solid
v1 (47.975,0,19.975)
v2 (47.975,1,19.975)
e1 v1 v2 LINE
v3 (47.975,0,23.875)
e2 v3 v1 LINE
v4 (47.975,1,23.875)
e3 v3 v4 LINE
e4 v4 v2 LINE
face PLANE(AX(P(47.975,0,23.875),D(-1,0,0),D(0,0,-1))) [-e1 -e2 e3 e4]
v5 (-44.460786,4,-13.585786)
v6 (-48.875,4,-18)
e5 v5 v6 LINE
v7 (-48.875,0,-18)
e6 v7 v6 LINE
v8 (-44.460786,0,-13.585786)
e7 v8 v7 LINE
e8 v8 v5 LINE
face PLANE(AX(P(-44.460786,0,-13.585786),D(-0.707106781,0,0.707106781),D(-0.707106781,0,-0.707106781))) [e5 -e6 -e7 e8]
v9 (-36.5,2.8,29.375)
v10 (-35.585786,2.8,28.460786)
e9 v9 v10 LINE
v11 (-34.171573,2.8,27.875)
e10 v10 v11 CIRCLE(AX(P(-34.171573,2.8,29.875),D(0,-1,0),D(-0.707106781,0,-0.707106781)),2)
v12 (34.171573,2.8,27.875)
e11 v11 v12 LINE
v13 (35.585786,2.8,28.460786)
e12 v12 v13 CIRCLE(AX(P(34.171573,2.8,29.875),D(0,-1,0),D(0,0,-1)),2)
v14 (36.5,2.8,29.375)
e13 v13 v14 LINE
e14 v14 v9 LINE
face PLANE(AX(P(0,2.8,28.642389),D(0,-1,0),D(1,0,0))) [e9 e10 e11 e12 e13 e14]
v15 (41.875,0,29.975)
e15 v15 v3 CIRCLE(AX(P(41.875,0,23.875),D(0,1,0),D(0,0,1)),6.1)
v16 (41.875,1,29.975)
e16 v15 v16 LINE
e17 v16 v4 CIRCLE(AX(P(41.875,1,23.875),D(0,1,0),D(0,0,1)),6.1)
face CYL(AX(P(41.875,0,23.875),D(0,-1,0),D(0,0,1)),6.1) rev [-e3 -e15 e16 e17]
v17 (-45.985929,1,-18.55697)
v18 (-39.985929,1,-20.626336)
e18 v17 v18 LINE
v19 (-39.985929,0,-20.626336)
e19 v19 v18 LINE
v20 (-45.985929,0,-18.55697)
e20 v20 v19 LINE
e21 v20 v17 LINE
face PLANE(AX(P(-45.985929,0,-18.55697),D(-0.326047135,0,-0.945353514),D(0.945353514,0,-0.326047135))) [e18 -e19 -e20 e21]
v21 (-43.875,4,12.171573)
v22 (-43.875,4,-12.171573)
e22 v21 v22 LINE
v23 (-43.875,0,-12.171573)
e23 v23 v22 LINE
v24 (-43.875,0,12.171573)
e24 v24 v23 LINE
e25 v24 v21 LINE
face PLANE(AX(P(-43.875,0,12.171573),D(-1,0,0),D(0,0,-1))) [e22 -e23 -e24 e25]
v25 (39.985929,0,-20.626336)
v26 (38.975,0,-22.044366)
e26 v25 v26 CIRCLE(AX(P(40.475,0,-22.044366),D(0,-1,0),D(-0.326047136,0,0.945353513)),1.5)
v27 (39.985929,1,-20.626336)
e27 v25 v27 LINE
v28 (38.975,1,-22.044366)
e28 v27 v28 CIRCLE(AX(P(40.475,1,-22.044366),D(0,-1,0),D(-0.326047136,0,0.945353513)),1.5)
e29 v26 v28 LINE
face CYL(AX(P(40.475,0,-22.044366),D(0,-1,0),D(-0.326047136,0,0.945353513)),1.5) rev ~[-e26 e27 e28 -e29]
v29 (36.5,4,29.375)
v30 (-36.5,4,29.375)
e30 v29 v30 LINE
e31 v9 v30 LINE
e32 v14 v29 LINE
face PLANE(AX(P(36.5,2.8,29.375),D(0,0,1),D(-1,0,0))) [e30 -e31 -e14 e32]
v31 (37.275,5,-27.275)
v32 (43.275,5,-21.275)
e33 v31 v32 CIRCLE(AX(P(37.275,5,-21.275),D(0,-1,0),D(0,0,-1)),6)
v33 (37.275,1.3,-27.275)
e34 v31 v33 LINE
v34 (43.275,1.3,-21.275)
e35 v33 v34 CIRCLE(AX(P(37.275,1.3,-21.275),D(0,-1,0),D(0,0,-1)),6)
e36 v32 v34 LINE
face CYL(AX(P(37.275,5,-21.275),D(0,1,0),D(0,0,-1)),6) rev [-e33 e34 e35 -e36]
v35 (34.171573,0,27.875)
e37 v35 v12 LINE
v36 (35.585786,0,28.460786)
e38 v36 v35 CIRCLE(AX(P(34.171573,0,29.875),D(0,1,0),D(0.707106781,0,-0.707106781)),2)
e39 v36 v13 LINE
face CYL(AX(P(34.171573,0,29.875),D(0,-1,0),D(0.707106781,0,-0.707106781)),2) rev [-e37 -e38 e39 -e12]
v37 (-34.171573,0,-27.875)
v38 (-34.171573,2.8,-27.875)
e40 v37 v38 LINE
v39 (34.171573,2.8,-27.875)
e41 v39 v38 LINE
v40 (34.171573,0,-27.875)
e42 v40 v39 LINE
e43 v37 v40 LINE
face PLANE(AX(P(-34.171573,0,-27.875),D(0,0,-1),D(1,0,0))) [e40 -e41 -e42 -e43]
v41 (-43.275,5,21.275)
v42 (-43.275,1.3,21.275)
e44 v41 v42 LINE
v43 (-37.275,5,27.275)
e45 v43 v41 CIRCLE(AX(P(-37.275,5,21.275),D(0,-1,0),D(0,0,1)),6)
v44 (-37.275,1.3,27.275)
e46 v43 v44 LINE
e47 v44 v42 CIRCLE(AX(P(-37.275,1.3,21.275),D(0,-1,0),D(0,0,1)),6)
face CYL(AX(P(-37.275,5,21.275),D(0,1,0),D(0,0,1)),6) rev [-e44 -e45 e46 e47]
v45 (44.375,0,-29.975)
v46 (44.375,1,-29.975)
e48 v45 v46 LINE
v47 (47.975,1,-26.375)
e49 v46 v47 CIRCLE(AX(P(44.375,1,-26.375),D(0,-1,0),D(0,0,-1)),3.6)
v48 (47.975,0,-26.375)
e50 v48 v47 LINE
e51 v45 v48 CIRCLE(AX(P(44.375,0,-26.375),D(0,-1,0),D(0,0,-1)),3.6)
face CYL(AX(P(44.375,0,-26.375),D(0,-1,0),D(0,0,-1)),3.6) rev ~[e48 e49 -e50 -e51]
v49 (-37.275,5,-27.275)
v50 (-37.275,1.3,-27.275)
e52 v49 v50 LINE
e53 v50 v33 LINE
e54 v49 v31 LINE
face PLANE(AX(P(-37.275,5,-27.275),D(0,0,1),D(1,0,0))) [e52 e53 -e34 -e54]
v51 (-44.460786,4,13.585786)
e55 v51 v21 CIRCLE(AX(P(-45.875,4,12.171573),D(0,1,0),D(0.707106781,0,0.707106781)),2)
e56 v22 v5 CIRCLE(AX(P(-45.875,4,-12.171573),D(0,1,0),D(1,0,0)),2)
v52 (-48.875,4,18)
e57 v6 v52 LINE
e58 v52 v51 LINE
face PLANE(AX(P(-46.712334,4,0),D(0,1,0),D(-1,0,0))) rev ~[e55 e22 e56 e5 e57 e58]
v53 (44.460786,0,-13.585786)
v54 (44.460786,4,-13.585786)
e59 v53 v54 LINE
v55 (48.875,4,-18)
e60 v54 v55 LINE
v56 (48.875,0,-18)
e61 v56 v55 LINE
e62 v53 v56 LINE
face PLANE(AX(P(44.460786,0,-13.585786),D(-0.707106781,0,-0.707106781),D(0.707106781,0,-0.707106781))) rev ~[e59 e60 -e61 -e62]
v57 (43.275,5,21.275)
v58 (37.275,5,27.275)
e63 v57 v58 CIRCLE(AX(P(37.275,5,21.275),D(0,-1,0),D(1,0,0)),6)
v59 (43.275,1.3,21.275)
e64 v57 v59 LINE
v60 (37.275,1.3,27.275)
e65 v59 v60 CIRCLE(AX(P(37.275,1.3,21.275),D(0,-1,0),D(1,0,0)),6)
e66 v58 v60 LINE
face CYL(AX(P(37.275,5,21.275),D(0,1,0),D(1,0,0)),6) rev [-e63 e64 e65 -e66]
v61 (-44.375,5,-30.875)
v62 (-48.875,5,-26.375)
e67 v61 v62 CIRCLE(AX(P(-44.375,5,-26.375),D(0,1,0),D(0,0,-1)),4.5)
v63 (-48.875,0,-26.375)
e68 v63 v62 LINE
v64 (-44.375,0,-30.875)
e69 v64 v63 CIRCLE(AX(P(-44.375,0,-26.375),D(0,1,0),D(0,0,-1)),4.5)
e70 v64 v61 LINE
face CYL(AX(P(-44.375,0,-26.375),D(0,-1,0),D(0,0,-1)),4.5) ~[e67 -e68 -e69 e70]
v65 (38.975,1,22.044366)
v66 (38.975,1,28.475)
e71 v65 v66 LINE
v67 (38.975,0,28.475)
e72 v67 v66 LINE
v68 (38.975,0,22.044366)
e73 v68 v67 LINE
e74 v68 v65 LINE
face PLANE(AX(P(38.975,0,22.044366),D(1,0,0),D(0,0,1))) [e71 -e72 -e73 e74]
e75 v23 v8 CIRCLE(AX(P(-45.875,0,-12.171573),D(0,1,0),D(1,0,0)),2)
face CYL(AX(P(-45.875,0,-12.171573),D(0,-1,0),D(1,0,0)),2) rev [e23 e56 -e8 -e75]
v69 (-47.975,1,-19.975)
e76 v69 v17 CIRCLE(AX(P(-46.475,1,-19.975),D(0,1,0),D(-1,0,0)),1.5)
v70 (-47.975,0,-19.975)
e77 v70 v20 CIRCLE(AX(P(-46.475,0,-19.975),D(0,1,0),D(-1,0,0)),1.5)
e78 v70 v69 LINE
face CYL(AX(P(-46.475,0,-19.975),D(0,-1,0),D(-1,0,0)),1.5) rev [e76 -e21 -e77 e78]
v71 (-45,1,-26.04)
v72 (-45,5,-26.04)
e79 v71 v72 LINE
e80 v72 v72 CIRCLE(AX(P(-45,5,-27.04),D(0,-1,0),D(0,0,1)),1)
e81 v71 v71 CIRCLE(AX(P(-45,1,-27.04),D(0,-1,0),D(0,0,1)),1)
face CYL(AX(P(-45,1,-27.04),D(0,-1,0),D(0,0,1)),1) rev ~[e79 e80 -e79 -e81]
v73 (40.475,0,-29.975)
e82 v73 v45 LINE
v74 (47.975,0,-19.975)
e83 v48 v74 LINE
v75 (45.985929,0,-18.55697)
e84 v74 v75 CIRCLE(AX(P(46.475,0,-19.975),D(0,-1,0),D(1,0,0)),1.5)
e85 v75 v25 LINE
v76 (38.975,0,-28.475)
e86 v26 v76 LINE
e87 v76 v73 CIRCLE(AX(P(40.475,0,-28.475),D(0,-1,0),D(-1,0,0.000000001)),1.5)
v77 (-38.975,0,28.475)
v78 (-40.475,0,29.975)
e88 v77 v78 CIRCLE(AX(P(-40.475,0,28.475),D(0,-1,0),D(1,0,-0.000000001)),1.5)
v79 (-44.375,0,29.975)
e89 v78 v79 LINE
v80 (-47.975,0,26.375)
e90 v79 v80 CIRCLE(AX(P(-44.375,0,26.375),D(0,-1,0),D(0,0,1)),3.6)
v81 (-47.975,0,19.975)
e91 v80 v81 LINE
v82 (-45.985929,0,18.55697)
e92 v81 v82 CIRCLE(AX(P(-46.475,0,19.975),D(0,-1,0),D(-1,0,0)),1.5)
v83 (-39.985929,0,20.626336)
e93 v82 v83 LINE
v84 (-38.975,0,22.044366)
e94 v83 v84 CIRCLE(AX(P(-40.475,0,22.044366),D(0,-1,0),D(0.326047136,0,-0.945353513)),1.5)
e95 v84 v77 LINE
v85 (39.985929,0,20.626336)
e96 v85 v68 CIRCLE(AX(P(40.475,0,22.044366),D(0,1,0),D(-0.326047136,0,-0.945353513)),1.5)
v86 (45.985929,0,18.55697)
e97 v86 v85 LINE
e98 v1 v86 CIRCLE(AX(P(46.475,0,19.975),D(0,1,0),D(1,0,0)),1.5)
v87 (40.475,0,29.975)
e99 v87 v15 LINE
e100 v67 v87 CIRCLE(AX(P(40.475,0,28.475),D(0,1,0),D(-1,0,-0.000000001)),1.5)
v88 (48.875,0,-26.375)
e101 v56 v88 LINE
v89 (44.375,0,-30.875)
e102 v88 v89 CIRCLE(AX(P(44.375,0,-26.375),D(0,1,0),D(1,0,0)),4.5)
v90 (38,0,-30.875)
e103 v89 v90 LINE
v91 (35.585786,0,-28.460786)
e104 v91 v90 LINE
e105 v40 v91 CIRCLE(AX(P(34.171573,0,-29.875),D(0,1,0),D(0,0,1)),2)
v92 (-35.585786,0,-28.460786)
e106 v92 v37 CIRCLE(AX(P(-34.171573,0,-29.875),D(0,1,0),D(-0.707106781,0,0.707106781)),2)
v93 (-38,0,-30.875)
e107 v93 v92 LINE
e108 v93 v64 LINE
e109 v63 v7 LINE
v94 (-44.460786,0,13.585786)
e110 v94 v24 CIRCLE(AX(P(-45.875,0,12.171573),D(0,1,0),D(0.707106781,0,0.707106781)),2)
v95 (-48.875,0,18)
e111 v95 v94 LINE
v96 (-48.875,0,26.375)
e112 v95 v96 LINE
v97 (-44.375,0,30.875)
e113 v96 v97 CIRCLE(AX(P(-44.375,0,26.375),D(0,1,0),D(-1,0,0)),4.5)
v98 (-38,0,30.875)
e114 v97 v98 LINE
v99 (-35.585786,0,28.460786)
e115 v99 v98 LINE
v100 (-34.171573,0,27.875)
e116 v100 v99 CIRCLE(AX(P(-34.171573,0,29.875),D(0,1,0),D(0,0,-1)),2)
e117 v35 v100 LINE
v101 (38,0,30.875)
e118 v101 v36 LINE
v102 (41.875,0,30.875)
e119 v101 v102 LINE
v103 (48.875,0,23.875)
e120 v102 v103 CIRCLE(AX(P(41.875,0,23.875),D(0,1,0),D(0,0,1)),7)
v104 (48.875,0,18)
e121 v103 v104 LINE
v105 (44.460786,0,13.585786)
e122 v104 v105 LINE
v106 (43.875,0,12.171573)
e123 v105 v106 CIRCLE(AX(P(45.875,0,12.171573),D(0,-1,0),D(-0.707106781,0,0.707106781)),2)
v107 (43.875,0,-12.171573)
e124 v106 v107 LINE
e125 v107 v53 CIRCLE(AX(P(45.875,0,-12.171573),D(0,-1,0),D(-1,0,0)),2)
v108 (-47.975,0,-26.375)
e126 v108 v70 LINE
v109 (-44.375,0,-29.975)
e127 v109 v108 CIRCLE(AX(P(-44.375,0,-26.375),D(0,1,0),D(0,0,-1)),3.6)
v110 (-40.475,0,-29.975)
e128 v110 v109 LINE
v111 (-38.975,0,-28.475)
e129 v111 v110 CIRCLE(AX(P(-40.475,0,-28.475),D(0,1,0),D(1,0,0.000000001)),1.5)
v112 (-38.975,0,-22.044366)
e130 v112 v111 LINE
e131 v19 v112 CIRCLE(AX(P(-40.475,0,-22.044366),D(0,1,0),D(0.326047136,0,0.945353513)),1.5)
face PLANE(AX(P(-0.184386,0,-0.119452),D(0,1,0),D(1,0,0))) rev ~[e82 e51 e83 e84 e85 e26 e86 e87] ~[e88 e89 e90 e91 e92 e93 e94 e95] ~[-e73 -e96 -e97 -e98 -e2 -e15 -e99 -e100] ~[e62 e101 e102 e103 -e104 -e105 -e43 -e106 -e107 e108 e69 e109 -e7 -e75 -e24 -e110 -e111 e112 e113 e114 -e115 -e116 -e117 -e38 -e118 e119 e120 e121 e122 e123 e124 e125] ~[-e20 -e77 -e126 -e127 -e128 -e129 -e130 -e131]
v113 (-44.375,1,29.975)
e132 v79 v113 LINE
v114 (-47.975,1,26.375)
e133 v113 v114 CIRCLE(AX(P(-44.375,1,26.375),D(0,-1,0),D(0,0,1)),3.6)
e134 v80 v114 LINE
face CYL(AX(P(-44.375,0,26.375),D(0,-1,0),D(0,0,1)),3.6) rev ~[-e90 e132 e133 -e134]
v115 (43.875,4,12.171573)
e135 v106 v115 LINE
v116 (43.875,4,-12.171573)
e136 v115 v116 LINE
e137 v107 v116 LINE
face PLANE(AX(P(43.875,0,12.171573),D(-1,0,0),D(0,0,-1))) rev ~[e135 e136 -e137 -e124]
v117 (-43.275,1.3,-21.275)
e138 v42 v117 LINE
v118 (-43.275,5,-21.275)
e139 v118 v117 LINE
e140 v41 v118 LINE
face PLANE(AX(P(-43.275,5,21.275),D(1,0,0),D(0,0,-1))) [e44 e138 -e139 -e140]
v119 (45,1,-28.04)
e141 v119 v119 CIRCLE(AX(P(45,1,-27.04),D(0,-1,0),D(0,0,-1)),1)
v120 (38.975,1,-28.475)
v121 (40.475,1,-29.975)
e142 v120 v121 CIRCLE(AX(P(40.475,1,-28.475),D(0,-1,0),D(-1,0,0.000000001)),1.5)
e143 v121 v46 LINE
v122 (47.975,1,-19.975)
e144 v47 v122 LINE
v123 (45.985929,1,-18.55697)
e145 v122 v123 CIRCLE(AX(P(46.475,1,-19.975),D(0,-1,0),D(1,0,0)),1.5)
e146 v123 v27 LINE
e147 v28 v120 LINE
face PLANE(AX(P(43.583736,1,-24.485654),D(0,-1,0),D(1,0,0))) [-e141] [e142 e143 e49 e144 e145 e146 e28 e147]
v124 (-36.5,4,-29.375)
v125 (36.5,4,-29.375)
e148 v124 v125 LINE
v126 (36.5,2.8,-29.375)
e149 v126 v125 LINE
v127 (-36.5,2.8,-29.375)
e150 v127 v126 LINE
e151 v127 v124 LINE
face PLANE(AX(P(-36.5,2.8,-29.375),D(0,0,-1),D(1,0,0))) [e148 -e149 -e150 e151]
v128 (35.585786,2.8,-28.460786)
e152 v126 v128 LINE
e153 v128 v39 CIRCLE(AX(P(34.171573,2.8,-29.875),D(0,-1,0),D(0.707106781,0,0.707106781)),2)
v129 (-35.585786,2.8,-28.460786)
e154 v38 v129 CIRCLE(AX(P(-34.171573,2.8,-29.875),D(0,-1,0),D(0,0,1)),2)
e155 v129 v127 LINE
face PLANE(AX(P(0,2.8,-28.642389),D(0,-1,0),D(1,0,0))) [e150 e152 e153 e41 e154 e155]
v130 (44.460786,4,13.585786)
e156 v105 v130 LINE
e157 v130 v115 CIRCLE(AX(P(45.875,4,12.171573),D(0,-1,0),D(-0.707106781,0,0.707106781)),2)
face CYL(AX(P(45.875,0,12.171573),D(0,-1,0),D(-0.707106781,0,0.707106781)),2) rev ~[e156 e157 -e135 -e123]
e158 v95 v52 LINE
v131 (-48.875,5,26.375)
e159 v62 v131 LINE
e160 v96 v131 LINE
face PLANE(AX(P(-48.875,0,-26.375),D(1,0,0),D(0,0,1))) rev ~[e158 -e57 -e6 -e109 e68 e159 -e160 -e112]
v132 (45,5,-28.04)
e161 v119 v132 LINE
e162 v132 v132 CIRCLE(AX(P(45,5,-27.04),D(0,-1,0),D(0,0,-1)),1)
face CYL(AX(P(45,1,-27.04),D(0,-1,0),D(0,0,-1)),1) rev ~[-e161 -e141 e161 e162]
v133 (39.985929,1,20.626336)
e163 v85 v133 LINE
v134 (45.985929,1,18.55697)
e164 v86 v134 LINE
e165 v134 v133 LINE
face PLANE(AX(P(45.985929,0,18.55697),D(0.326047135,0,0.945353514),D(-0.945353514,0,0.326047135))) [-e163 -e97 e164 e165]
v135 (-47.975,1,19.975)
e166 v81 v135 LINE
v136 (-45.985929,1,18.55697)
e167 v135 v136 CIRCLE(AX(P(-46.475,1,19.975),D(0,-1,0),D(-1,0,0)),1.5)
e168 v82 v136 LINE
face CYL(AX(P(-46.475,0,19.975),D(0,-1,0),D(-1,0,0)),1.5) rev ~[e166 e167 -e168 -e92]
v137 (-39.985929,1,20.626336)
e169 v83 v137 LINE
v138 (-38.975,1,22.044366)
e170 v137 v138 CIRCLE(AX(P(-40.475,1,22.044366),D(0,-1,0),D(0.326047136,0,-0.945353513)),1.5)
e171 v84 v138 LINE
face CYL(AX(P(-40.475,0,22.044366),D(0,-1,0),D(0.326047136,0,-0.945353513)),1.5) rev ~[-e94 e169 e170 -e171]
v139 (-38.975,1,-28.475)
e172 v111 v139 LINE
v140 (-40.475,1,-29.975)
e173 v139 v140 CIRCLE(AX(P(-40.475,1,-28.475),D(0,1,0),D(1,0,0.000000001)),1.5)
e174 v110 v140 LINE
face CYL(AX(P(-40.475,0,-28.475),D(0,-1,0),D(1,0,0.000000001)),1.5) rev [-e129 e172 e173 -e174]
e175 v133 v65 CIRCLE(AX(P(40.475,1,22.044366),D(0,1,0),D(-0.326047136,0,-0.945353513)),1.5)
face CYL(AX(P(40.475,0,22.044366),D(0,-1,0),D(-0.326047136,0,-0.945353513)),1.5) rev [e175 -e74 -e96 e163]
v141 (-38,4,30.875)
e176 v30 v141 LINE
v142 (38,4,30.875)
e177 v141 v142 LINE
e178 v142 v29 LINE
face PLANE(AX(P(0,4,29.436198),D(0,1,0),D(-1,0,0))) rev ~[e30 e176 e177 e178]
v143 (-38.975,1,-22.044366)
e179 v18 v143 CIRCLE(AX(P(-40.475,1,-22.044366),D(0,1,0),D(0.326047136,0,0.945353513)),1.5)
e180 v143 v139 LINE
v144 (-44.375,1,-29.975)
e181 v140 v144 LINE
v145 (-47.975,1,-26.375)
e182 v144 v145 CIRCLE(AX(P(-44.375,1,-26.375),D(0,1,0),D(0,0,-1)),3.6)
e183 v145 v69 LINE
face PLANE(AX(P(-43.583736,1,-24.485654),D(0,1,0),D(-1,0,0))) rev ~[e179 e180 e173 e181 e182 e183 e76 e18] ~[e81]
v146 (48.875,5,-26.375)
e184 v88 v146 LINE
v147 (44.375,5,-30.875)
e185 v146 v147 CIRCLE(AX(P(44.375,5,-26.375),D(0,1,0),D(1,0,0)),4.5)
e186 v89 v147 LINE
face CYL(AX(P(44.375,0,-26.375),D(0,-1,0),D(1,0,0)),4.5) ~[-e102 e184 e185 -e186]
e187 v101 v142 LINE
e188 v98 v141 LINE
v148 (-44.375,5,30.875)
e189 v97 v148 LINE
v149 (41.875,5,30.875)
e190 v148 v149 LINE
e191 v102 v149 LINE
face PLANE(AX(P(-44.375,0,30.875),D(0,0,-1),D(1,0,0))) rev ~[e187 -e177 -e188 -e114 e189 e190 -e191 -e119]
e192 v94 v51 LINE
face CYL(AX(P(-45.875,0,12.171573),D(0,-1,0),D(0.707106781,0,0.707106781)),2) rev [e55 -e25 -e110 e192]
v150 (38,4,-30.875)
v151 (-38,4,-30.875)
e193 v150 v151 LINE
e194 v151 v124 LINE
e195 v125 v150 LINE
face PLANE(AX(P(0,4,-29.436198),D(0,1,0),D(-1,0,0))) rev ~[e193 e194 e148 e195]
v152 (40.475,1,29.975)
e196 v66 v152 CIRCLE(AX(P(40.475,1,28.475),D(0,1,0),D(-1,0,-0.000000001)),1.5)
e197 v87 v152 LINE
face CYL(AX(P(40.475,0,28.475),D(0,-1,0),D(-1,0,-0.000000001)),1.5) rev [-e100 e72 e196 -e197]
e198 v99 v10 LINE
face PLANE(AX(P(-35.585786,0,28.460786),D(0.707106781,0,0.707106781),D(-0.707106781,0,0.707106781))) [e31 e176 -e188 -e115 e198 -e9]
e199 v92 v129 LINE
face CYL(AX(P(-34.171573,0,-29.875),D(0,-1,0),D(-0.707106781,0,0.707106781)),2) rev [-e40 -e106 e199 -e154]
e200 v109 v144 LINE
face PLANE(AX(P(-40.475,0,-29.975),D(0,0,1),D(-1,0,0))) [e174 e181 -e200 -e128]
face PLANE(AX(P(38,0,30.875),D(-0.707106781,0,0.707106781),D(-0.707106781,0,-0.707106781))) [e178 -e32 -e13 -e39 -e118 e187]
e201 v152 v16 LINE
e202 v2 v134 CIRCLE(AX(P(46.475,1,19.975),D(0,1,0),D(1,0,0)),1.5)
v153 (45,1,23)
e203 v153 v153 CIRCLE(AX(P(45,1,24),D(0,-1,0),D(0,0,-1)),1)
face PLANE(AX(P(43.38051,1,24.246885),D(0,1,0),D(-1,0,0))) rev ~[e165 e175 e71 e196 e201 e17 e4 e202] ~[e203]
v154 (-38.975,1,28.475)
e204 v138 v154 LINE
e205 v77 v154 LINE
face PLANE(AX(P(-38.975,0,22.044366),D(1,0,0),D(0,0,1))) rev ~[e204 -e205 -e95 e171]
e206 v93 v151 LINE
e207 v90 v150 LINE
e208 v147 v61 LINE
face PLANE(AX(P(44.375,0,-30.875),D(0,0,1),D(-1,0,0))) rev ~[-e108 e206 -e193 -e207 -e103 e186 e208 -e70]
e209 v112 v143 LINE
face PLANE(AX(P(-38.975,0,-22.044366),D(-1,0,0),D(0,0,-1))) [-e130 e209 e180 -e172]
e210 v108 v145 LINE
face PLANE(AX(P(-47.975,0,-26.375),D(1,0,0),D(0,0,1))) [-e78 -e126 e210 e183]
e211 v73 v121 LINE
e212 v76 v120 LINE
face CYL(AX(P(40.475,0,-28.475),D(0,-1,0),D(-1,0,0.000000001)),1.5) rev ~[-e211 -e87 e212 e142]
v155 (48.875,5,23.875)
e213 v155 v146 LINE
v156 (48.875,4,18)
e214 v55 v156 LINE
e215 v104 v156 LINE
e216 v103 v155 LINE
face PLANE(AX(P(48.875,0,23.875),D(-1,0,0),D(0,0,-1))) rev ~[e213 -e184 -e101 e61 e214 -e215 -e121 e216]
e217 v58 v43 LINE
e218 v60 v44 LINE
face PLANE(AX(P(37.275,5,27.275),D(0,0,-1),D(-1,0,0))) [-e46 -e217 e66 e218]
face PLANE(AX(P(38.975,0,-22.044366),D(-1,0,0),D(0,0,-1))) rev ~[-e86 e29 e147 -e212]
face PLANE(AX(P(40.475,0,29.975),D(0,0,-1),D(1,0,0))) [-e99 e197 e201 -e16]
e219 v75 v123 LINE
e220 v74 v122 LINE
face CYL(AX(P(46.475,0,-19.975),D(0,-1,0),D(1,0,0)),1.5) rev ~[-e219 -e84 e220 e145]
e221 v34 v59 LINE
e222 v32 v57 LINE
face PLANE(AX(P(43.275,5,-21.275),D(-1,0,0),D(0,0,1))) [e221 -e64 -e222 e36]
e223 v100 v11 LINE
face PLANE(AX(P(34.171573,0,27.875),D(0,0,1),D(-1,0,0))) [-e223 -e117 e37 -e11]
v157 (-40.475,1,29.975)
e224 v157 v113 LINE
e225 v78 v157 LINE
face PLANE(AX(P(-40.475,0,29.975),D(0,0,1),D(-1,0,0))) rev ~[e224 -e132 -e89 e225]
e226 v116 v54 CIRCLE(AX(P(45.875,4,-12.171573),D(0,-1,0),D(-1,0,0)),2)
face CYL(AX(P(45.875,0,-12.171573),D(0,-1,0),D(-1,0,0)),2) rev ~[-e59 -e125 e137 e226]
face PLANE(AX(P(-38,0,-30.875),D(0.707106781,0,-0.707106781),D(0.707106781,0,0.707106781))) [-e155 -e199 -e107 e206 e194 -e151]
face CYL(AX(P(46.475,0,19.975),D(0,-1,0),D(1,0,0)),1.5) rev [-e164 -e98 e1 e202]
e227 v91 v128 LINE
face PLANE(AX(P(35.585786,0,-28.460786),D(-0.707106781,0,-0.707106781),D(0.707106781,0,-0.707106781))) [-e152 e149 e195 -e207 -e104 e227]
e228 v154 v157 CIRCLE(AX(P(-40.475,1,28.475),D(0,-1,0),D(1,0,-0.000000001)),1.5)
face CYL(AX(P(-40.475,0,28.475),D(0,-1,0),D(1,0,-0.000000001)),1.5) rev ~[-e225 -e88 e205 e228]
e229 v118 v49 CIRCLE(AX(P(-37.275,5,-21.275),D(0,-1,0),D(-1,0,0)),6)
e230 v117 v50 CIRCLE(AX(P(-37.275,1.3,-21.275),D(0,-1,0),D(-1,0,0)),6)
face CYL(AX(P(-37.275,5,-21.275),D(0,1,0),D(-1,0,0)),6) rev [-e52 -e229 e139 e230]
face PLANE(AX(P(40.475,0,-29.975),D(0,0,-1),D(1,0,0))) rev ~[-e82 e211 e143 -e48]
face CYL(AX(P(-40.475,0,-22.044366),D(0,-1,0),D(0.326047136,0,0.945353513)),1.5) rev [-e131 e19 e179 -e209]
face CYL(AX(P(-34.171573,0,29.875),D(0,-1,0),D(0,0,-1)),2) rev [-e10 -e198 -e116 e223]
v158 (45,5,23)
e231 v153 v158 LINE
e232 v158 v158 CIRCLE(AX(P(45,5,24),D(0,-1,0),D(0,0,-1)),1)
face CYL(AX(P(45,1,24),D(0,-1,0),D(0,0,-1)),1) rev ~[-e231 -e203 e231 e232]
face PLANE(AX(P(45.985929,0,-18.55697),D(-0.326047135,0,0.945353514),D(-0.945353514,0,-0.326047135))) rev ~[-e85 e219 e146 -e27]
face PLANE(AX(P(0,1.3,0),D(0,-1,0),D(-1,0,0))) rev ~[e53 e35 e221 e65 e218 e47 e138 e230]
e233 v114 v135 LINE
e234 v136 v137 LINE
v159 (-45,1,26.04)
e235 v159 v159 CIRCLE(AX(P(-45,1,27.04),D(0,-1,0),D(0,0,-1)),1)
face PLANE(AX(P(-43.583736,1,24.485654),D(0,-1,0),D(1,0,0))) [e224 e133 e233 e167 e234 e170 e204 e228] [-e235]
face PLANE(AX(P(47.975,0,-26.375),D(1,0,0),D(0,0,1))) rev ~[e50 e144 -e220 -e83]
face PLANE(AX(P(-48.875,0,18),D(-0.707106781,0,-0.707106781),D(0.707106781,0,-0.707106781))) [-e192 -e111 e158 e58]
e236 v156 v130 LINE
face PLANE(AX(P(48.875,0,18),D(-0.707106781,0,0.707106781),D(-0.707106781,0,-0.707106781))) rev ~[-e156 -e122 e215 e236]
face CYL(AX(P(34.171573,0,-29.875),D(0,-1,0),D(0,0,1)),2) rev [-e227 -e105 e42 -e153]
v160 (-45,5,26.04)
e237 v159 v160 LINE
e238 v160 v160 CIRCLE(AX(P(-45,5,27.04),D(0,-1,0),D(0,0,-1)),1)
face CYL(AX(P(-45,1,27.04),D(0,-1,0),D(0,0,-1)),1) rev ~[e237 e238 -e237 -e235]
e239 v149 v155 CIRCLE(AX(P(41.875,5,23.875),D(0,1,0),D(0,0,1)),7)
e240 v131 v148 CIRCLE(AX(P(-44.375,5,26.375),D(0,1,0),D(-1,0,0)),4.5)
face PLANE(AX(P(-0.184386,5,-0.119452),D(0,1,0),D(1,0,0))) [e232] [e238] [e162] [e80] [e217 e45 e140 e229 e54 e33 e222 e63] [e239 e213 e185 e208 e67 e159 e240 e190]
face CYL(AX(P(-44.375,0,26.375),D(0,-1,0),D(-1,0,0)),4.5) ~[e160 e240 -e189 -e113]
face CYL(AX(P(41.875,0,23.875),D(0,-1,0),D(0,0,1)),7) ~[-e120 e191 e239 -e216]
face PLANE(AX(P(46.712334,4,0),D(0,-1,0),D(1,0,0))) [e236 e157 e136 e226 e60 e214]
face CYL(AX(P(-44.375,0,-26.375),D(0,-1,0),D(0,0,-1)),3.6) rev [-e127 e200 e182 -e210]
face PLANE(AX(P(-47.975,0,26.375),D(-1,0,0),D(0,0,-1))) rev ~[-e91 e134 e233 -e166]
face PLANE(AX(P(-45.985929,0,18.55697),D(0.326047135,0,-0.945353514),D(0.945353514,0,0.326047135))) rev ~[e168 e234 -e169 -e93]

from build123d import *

# Parameters (mm, degrees)
BOSS_EXTRUDE2_DEPTH = 5
CUT_EXTRUDE2_DEPTH  = 4
BOSS_EXTRUDE4_START = 1.2
BOSS_EXTRUDE4_DEPTH = 1.2
CUT_EXTRUDE5_DEPTH  = 1
SKETCH13_R          = 1
CUT_EXTRUDE6_DEPTH  = 58.948522414
CUT_EXTRUDE10_DEPTH = 3.7


with BuildPart() as part:
    # Sketch5 → Boss-Extrude2 (new body)
    with BuildSketch(Plane(origin=(0, 0, 0), x_dir=(1, 0, 0), z_dir=(0, 1, 0))):
        with BuildLine():
            Line((-44.375, -30.875), (41.875, -30.875))
            ThreePointArc((41.875, -30.875), (46.824747468, -28.824747468), (48.875, -23.875))
            Line((48.875, -23.875), (48.875, 26.375))
            ThreePointArc((48.875, 26.375), (47.556980515, 29.556980515), (44.375, 30.875))
            Line((44.375, 30.875), (-44.375, 30.875))
            ThreePointArc((-44.375, 30.875), (-47.556980515, 29.556980515), (-48.875, 26.375))
            Line((-48.875, 26.375), (-48.875, -26.375))
            ThreePointArc((-48.875, -26.375), (-47.556980515, -29.556980515), (-44.375, -30.875))
        make_face()
    extrude(amount=BOSS_EXTRUDE2_DEPTH)

    # Sketch10 → Cut-Extrude2 (cut)
    with BuildSketch(Plane.XZ):
        with BuildLine():
            Line((-48.875, 18), (-44.460786438, 13.585786438))
            ThreePointArc((-44.460786438, 13.585786438), (-44.027240935, 12.93693974), (-43.875, 12.171572875))
            Line((-43.875, 12.171572875), (-43.875, -12.171572875))
            ThreePointArc((-43.875, -12.171572875), (-44.027240935, -12.93693974), (-44.460786438, -13.585786438))
            Line((-44.460786438, -13.585786438), (-48.875, -18))
            Line((-48.875, -18), (-48.875, 18))
        make_face()
        with BuildLine():
            Line((48.875, -18), (48.875, 18))
            Line((48.875, 18), (44.460786438, 13.585786438))
            ThreePointArc((44.460786438, 13.585786438), (44.027240935, 12.93693974), (43.875, 12.171572875))
            Line((43.875, 12.171572875), (43.875, -12.171572875))
            ThreePointArc((43.875, -12.171572875), (44.027240935, -12.93693974), (44.460786438, -13.585786438))
            Line((44.460786438, -13.585786438), (48.875, -18))
        make_face()
        with BuildLine():
            Line((-38, -30.875), (-35.585786438, -28.460786438))
            ThreePointArc((-35.585786438, -28.460786438), (-34.93693974, -28.027240935), (-34.171572875, -27.875))
            Line((-34.171572875, -27.875), (34.171572875, -27.875))
            ThreePointArc((34.171572875, -27.875), (34.93693974, -28.027240935), (35.585786438, -28.460786438))
            Line((35.585786438, -28.460786438), (38, -30.875))
            Line((38, -30.875), (-38, -30.875))
        make_face()
        with BuildLine():
            Line((-38, 30.875), (38, 30.875))
            Line((38, 30.875), (35.585786438, 28.460786438))
            ThreePointArc((35.585786438, 28.460786438), (34.93693974, 28.027240935), (34.171572875, 27.875))
            Line((34.171572875, 27.875), (-34.171572875, 27.875))
            ThreePointArc((-34.171572875, 27.875), (-34.93693974, 28.027240935), (-35.585786438, 28.460786438))
            Line((-35.585786438, 28.460786438), (-38, 30.875))
        make_face()
    extrude(amount=-CUT_EXTRUDE2_DEPTH, mode=Mode.SUBTRACT)

    # Sketch11 → Boss-Extrude4 (add)
    with BuildSketch(Plane.XZ.offset(-4).offset(BOSS_EXTRUDE4_START)):
        with BuildLine():
            Line((-35.585786438, -28.460786438), (-36.5, -29.375))
            Line((-36.5, -29.375), (36.5, -29.375))
            Line((36.5, -29.375), (35.585786438, -28.460786438))
            ThreePointArc((35.585786438, -28.460786438), (34.93693974, -28.027240935), (34.171572875, -27.875))
            Line((34.171572875, -27.875), (-34.171572875, -27.875))
            ThreePointArc((-34.171572875, -27.875), (-34.93693974, -28.027240935), (-35.585786438, -28.460786438))
        make_face()
        with BuildLine():
            Line((-36.5, 29.375), (-35.585786438, 28.460786438))
            ThreePointArc((-35.585786438, 28.460786438), (-34.93693974, 28.027240935), (-34.171572875, 27.875))
            Line((-34.171572875, 27.875), (34.171572875, 27.875))
            ThreePointArc((34.171572875, 27.875), (34.93693974, 28.027240935), (35.585786438, 28.460786438))
            Line((35.585786438, 28.460786438), (36.5, 29.375))
            Line((36.5, 29.375), (-36.5, 29.375))
        make_face()
    extrude(amount=-BOSS_EXTRUDE4_DEPTH)

    # Sketch6 → Cut-Extrude5 (cut)
    with BuildSketch(Plane.XZ):
        with BuildLine():
            Line((-47.975, 26.375), (-47.975, 19.975))
            ThreePointArc((-47.975, 19.975), (-47.345745068, 18.753606113), (-45.985929297, 18.55696973))
            Line((-45.985929297, 18.55696973), (-39.985929297, 20.626336144))
            ThreePointArc((-39.985929297, 20.626336144), (-39.253606113, 21.173621347), (-38.975, 22.044366415))
            Line((-38.975, 22.044366415), (-38.975, 28.475))
            ThreePointArc((-38.975, 28.475), (-39.414339828, 29.535660172), (-40.475, 29.975))
            Line((-40.475, 29.975), (-44.375, 29.975))
            ThreePointArc((-44.375, 29.975), (-46.920584412, 28.920584412), (-47.975, 26.375))
        make_face()
        with BuildLine():
            Line((40.475, 29.975), (41.875, 29.975))
            ThreePointArc((41.875, 29.975), (46.188351365, 28.188351365), (47.975, 23.875))
            Line((47.975, 23.875), (47.975, 19.975))
            ThreePointArc((47.975, 19.975), (47.345745068, 18.753606113), (45.985929297, 18.55696973))
            Line((45.985929297, 18.55696973), (39.985929297, 20.626336144))
            ThreePointArc((39.985929297, 20.626336144), (39.253606113, 21.173621347), (38.975, 22.044366415))
            Line((38.975, 22.044366415), (38.975, 28.475))
            ThreePointArc((38.975, 28.475), (39.414339828, 29.535660172), (40.475, 29.975))
        make_face()
        with BuildLine():
            Line((47.975, -26.375), (47.975, -19.975))
            ThreePointArc((47.975, -19.975), (47.345745068, -18.753606113), (45.985929297, -18.55696973))
            Line((45.985929297, -18.55696973), (39.985929297, -20.626336144))
            ThreePointArc((39.985929297, -20.626336144), (39.253606113, -21.173621347), (38.975, -22.044366415))
            Line((38.975, -22.044366415), (38.975, -28.475))
            ThreePointArc((38.975, -28.475), (39.414339828, -29.535660172), (40.475, -29.975))
            Line((40.475, -29.975), (44.375, -29.975))
            ThreePointArc((44.375, -29.975), (46.920584412, -28.920584412), (47.975, -26.375))
        make_face()
        with BuildLine():
            Line((-40.475, -29.975), (-44.375, -29.975))
            ThreePointArc((-44.375, -29.975), (-46.920584412, -28.920584412), (-47.975, -26.375))
            Line((-47.975, -26.375), (-47.975, -19.975))
            ThreePointArc((-47.975, -19.975), (-47.345745068, -18.753606113), (-45.985929297, -18.55696973))
            Line((-45.985929297, -18.55696973), (-39.985929297, -20.626336144))
            ThreePointArc((-39.985929297, -20.626336144), (-39.253606113, -21.173621347), (-38.975, -22.044366415))
            Line((-38.975, -22.044366415), (-38.975, -28.475))
            ThreePointArc((-38.975, -28.475), (-39.414339828, -29.535660172), (-40.475, -29.975))
        make_face()
    extrude(amount=-CUT_EXTRUDE5_DEPTH, mode=Mode.SUBTRACT)

    # Sketch13 → Cut-Extrude6 (cut, through all)
    with BuildSketch(Plane.XZ.offset(-1)):
        with Locations(Location((-45, 27.04, 0), (0, 0, 270))):
            Circle(SKETCH13_R)
        with Locations(Location((-45, -27.04, 0), (0, 0, 90))):
            Circle(SKETCH13_R)
        with Locations(Location((45, -27.04, 0), (0, 0, 270))):
            Circle(SKETCH13_R)
        with Locations(Location((45, 24, 0), (0, 0, 270))):
            Circle(SKETCH13_R)
    extrude(amount=-CUT_EXTRUDE6_DEPTH, mode=Mode.SUBTRACT)

    # Sketch16 → Cut-Extrude10 (cut)
    with BuildSketch(Plane(origin=(0, 5, 0), x_dir=(1, 0, 0), z_dir=(0, 1, 0))):
        with BuildLine():
            Line((-37.275, 27.275), (37.275, 27.275))
            ThreePointArc((37.275, 27.275), (41.517640687, 25.517640687), (43.275, 21.275))
            Line((43.275, 21.275), (43.275, -21.275))
            ThreePointArc((43.275, -21.275), (41.517640687, -25.517640687), (37.275, -27.275))
            Line((37.275, -27.275), (-37.275, -27.275))
            ThreePointArc((-37.275, -27.275), (-41.517640687, -25.517640687), (-43.275, -21.275))
            Line((-43.275, -21.275), (-43.275, 21.275))
            ThreePointArc((-43.275, 21.275), (-41.517640687, 25.517640687), (-37.275, 27.275))
        make_face()
    extrude(amount=-CUT_EXTRUDE10_DEPTH, mode=Mode.SUBTRACT)


solid = part.part
